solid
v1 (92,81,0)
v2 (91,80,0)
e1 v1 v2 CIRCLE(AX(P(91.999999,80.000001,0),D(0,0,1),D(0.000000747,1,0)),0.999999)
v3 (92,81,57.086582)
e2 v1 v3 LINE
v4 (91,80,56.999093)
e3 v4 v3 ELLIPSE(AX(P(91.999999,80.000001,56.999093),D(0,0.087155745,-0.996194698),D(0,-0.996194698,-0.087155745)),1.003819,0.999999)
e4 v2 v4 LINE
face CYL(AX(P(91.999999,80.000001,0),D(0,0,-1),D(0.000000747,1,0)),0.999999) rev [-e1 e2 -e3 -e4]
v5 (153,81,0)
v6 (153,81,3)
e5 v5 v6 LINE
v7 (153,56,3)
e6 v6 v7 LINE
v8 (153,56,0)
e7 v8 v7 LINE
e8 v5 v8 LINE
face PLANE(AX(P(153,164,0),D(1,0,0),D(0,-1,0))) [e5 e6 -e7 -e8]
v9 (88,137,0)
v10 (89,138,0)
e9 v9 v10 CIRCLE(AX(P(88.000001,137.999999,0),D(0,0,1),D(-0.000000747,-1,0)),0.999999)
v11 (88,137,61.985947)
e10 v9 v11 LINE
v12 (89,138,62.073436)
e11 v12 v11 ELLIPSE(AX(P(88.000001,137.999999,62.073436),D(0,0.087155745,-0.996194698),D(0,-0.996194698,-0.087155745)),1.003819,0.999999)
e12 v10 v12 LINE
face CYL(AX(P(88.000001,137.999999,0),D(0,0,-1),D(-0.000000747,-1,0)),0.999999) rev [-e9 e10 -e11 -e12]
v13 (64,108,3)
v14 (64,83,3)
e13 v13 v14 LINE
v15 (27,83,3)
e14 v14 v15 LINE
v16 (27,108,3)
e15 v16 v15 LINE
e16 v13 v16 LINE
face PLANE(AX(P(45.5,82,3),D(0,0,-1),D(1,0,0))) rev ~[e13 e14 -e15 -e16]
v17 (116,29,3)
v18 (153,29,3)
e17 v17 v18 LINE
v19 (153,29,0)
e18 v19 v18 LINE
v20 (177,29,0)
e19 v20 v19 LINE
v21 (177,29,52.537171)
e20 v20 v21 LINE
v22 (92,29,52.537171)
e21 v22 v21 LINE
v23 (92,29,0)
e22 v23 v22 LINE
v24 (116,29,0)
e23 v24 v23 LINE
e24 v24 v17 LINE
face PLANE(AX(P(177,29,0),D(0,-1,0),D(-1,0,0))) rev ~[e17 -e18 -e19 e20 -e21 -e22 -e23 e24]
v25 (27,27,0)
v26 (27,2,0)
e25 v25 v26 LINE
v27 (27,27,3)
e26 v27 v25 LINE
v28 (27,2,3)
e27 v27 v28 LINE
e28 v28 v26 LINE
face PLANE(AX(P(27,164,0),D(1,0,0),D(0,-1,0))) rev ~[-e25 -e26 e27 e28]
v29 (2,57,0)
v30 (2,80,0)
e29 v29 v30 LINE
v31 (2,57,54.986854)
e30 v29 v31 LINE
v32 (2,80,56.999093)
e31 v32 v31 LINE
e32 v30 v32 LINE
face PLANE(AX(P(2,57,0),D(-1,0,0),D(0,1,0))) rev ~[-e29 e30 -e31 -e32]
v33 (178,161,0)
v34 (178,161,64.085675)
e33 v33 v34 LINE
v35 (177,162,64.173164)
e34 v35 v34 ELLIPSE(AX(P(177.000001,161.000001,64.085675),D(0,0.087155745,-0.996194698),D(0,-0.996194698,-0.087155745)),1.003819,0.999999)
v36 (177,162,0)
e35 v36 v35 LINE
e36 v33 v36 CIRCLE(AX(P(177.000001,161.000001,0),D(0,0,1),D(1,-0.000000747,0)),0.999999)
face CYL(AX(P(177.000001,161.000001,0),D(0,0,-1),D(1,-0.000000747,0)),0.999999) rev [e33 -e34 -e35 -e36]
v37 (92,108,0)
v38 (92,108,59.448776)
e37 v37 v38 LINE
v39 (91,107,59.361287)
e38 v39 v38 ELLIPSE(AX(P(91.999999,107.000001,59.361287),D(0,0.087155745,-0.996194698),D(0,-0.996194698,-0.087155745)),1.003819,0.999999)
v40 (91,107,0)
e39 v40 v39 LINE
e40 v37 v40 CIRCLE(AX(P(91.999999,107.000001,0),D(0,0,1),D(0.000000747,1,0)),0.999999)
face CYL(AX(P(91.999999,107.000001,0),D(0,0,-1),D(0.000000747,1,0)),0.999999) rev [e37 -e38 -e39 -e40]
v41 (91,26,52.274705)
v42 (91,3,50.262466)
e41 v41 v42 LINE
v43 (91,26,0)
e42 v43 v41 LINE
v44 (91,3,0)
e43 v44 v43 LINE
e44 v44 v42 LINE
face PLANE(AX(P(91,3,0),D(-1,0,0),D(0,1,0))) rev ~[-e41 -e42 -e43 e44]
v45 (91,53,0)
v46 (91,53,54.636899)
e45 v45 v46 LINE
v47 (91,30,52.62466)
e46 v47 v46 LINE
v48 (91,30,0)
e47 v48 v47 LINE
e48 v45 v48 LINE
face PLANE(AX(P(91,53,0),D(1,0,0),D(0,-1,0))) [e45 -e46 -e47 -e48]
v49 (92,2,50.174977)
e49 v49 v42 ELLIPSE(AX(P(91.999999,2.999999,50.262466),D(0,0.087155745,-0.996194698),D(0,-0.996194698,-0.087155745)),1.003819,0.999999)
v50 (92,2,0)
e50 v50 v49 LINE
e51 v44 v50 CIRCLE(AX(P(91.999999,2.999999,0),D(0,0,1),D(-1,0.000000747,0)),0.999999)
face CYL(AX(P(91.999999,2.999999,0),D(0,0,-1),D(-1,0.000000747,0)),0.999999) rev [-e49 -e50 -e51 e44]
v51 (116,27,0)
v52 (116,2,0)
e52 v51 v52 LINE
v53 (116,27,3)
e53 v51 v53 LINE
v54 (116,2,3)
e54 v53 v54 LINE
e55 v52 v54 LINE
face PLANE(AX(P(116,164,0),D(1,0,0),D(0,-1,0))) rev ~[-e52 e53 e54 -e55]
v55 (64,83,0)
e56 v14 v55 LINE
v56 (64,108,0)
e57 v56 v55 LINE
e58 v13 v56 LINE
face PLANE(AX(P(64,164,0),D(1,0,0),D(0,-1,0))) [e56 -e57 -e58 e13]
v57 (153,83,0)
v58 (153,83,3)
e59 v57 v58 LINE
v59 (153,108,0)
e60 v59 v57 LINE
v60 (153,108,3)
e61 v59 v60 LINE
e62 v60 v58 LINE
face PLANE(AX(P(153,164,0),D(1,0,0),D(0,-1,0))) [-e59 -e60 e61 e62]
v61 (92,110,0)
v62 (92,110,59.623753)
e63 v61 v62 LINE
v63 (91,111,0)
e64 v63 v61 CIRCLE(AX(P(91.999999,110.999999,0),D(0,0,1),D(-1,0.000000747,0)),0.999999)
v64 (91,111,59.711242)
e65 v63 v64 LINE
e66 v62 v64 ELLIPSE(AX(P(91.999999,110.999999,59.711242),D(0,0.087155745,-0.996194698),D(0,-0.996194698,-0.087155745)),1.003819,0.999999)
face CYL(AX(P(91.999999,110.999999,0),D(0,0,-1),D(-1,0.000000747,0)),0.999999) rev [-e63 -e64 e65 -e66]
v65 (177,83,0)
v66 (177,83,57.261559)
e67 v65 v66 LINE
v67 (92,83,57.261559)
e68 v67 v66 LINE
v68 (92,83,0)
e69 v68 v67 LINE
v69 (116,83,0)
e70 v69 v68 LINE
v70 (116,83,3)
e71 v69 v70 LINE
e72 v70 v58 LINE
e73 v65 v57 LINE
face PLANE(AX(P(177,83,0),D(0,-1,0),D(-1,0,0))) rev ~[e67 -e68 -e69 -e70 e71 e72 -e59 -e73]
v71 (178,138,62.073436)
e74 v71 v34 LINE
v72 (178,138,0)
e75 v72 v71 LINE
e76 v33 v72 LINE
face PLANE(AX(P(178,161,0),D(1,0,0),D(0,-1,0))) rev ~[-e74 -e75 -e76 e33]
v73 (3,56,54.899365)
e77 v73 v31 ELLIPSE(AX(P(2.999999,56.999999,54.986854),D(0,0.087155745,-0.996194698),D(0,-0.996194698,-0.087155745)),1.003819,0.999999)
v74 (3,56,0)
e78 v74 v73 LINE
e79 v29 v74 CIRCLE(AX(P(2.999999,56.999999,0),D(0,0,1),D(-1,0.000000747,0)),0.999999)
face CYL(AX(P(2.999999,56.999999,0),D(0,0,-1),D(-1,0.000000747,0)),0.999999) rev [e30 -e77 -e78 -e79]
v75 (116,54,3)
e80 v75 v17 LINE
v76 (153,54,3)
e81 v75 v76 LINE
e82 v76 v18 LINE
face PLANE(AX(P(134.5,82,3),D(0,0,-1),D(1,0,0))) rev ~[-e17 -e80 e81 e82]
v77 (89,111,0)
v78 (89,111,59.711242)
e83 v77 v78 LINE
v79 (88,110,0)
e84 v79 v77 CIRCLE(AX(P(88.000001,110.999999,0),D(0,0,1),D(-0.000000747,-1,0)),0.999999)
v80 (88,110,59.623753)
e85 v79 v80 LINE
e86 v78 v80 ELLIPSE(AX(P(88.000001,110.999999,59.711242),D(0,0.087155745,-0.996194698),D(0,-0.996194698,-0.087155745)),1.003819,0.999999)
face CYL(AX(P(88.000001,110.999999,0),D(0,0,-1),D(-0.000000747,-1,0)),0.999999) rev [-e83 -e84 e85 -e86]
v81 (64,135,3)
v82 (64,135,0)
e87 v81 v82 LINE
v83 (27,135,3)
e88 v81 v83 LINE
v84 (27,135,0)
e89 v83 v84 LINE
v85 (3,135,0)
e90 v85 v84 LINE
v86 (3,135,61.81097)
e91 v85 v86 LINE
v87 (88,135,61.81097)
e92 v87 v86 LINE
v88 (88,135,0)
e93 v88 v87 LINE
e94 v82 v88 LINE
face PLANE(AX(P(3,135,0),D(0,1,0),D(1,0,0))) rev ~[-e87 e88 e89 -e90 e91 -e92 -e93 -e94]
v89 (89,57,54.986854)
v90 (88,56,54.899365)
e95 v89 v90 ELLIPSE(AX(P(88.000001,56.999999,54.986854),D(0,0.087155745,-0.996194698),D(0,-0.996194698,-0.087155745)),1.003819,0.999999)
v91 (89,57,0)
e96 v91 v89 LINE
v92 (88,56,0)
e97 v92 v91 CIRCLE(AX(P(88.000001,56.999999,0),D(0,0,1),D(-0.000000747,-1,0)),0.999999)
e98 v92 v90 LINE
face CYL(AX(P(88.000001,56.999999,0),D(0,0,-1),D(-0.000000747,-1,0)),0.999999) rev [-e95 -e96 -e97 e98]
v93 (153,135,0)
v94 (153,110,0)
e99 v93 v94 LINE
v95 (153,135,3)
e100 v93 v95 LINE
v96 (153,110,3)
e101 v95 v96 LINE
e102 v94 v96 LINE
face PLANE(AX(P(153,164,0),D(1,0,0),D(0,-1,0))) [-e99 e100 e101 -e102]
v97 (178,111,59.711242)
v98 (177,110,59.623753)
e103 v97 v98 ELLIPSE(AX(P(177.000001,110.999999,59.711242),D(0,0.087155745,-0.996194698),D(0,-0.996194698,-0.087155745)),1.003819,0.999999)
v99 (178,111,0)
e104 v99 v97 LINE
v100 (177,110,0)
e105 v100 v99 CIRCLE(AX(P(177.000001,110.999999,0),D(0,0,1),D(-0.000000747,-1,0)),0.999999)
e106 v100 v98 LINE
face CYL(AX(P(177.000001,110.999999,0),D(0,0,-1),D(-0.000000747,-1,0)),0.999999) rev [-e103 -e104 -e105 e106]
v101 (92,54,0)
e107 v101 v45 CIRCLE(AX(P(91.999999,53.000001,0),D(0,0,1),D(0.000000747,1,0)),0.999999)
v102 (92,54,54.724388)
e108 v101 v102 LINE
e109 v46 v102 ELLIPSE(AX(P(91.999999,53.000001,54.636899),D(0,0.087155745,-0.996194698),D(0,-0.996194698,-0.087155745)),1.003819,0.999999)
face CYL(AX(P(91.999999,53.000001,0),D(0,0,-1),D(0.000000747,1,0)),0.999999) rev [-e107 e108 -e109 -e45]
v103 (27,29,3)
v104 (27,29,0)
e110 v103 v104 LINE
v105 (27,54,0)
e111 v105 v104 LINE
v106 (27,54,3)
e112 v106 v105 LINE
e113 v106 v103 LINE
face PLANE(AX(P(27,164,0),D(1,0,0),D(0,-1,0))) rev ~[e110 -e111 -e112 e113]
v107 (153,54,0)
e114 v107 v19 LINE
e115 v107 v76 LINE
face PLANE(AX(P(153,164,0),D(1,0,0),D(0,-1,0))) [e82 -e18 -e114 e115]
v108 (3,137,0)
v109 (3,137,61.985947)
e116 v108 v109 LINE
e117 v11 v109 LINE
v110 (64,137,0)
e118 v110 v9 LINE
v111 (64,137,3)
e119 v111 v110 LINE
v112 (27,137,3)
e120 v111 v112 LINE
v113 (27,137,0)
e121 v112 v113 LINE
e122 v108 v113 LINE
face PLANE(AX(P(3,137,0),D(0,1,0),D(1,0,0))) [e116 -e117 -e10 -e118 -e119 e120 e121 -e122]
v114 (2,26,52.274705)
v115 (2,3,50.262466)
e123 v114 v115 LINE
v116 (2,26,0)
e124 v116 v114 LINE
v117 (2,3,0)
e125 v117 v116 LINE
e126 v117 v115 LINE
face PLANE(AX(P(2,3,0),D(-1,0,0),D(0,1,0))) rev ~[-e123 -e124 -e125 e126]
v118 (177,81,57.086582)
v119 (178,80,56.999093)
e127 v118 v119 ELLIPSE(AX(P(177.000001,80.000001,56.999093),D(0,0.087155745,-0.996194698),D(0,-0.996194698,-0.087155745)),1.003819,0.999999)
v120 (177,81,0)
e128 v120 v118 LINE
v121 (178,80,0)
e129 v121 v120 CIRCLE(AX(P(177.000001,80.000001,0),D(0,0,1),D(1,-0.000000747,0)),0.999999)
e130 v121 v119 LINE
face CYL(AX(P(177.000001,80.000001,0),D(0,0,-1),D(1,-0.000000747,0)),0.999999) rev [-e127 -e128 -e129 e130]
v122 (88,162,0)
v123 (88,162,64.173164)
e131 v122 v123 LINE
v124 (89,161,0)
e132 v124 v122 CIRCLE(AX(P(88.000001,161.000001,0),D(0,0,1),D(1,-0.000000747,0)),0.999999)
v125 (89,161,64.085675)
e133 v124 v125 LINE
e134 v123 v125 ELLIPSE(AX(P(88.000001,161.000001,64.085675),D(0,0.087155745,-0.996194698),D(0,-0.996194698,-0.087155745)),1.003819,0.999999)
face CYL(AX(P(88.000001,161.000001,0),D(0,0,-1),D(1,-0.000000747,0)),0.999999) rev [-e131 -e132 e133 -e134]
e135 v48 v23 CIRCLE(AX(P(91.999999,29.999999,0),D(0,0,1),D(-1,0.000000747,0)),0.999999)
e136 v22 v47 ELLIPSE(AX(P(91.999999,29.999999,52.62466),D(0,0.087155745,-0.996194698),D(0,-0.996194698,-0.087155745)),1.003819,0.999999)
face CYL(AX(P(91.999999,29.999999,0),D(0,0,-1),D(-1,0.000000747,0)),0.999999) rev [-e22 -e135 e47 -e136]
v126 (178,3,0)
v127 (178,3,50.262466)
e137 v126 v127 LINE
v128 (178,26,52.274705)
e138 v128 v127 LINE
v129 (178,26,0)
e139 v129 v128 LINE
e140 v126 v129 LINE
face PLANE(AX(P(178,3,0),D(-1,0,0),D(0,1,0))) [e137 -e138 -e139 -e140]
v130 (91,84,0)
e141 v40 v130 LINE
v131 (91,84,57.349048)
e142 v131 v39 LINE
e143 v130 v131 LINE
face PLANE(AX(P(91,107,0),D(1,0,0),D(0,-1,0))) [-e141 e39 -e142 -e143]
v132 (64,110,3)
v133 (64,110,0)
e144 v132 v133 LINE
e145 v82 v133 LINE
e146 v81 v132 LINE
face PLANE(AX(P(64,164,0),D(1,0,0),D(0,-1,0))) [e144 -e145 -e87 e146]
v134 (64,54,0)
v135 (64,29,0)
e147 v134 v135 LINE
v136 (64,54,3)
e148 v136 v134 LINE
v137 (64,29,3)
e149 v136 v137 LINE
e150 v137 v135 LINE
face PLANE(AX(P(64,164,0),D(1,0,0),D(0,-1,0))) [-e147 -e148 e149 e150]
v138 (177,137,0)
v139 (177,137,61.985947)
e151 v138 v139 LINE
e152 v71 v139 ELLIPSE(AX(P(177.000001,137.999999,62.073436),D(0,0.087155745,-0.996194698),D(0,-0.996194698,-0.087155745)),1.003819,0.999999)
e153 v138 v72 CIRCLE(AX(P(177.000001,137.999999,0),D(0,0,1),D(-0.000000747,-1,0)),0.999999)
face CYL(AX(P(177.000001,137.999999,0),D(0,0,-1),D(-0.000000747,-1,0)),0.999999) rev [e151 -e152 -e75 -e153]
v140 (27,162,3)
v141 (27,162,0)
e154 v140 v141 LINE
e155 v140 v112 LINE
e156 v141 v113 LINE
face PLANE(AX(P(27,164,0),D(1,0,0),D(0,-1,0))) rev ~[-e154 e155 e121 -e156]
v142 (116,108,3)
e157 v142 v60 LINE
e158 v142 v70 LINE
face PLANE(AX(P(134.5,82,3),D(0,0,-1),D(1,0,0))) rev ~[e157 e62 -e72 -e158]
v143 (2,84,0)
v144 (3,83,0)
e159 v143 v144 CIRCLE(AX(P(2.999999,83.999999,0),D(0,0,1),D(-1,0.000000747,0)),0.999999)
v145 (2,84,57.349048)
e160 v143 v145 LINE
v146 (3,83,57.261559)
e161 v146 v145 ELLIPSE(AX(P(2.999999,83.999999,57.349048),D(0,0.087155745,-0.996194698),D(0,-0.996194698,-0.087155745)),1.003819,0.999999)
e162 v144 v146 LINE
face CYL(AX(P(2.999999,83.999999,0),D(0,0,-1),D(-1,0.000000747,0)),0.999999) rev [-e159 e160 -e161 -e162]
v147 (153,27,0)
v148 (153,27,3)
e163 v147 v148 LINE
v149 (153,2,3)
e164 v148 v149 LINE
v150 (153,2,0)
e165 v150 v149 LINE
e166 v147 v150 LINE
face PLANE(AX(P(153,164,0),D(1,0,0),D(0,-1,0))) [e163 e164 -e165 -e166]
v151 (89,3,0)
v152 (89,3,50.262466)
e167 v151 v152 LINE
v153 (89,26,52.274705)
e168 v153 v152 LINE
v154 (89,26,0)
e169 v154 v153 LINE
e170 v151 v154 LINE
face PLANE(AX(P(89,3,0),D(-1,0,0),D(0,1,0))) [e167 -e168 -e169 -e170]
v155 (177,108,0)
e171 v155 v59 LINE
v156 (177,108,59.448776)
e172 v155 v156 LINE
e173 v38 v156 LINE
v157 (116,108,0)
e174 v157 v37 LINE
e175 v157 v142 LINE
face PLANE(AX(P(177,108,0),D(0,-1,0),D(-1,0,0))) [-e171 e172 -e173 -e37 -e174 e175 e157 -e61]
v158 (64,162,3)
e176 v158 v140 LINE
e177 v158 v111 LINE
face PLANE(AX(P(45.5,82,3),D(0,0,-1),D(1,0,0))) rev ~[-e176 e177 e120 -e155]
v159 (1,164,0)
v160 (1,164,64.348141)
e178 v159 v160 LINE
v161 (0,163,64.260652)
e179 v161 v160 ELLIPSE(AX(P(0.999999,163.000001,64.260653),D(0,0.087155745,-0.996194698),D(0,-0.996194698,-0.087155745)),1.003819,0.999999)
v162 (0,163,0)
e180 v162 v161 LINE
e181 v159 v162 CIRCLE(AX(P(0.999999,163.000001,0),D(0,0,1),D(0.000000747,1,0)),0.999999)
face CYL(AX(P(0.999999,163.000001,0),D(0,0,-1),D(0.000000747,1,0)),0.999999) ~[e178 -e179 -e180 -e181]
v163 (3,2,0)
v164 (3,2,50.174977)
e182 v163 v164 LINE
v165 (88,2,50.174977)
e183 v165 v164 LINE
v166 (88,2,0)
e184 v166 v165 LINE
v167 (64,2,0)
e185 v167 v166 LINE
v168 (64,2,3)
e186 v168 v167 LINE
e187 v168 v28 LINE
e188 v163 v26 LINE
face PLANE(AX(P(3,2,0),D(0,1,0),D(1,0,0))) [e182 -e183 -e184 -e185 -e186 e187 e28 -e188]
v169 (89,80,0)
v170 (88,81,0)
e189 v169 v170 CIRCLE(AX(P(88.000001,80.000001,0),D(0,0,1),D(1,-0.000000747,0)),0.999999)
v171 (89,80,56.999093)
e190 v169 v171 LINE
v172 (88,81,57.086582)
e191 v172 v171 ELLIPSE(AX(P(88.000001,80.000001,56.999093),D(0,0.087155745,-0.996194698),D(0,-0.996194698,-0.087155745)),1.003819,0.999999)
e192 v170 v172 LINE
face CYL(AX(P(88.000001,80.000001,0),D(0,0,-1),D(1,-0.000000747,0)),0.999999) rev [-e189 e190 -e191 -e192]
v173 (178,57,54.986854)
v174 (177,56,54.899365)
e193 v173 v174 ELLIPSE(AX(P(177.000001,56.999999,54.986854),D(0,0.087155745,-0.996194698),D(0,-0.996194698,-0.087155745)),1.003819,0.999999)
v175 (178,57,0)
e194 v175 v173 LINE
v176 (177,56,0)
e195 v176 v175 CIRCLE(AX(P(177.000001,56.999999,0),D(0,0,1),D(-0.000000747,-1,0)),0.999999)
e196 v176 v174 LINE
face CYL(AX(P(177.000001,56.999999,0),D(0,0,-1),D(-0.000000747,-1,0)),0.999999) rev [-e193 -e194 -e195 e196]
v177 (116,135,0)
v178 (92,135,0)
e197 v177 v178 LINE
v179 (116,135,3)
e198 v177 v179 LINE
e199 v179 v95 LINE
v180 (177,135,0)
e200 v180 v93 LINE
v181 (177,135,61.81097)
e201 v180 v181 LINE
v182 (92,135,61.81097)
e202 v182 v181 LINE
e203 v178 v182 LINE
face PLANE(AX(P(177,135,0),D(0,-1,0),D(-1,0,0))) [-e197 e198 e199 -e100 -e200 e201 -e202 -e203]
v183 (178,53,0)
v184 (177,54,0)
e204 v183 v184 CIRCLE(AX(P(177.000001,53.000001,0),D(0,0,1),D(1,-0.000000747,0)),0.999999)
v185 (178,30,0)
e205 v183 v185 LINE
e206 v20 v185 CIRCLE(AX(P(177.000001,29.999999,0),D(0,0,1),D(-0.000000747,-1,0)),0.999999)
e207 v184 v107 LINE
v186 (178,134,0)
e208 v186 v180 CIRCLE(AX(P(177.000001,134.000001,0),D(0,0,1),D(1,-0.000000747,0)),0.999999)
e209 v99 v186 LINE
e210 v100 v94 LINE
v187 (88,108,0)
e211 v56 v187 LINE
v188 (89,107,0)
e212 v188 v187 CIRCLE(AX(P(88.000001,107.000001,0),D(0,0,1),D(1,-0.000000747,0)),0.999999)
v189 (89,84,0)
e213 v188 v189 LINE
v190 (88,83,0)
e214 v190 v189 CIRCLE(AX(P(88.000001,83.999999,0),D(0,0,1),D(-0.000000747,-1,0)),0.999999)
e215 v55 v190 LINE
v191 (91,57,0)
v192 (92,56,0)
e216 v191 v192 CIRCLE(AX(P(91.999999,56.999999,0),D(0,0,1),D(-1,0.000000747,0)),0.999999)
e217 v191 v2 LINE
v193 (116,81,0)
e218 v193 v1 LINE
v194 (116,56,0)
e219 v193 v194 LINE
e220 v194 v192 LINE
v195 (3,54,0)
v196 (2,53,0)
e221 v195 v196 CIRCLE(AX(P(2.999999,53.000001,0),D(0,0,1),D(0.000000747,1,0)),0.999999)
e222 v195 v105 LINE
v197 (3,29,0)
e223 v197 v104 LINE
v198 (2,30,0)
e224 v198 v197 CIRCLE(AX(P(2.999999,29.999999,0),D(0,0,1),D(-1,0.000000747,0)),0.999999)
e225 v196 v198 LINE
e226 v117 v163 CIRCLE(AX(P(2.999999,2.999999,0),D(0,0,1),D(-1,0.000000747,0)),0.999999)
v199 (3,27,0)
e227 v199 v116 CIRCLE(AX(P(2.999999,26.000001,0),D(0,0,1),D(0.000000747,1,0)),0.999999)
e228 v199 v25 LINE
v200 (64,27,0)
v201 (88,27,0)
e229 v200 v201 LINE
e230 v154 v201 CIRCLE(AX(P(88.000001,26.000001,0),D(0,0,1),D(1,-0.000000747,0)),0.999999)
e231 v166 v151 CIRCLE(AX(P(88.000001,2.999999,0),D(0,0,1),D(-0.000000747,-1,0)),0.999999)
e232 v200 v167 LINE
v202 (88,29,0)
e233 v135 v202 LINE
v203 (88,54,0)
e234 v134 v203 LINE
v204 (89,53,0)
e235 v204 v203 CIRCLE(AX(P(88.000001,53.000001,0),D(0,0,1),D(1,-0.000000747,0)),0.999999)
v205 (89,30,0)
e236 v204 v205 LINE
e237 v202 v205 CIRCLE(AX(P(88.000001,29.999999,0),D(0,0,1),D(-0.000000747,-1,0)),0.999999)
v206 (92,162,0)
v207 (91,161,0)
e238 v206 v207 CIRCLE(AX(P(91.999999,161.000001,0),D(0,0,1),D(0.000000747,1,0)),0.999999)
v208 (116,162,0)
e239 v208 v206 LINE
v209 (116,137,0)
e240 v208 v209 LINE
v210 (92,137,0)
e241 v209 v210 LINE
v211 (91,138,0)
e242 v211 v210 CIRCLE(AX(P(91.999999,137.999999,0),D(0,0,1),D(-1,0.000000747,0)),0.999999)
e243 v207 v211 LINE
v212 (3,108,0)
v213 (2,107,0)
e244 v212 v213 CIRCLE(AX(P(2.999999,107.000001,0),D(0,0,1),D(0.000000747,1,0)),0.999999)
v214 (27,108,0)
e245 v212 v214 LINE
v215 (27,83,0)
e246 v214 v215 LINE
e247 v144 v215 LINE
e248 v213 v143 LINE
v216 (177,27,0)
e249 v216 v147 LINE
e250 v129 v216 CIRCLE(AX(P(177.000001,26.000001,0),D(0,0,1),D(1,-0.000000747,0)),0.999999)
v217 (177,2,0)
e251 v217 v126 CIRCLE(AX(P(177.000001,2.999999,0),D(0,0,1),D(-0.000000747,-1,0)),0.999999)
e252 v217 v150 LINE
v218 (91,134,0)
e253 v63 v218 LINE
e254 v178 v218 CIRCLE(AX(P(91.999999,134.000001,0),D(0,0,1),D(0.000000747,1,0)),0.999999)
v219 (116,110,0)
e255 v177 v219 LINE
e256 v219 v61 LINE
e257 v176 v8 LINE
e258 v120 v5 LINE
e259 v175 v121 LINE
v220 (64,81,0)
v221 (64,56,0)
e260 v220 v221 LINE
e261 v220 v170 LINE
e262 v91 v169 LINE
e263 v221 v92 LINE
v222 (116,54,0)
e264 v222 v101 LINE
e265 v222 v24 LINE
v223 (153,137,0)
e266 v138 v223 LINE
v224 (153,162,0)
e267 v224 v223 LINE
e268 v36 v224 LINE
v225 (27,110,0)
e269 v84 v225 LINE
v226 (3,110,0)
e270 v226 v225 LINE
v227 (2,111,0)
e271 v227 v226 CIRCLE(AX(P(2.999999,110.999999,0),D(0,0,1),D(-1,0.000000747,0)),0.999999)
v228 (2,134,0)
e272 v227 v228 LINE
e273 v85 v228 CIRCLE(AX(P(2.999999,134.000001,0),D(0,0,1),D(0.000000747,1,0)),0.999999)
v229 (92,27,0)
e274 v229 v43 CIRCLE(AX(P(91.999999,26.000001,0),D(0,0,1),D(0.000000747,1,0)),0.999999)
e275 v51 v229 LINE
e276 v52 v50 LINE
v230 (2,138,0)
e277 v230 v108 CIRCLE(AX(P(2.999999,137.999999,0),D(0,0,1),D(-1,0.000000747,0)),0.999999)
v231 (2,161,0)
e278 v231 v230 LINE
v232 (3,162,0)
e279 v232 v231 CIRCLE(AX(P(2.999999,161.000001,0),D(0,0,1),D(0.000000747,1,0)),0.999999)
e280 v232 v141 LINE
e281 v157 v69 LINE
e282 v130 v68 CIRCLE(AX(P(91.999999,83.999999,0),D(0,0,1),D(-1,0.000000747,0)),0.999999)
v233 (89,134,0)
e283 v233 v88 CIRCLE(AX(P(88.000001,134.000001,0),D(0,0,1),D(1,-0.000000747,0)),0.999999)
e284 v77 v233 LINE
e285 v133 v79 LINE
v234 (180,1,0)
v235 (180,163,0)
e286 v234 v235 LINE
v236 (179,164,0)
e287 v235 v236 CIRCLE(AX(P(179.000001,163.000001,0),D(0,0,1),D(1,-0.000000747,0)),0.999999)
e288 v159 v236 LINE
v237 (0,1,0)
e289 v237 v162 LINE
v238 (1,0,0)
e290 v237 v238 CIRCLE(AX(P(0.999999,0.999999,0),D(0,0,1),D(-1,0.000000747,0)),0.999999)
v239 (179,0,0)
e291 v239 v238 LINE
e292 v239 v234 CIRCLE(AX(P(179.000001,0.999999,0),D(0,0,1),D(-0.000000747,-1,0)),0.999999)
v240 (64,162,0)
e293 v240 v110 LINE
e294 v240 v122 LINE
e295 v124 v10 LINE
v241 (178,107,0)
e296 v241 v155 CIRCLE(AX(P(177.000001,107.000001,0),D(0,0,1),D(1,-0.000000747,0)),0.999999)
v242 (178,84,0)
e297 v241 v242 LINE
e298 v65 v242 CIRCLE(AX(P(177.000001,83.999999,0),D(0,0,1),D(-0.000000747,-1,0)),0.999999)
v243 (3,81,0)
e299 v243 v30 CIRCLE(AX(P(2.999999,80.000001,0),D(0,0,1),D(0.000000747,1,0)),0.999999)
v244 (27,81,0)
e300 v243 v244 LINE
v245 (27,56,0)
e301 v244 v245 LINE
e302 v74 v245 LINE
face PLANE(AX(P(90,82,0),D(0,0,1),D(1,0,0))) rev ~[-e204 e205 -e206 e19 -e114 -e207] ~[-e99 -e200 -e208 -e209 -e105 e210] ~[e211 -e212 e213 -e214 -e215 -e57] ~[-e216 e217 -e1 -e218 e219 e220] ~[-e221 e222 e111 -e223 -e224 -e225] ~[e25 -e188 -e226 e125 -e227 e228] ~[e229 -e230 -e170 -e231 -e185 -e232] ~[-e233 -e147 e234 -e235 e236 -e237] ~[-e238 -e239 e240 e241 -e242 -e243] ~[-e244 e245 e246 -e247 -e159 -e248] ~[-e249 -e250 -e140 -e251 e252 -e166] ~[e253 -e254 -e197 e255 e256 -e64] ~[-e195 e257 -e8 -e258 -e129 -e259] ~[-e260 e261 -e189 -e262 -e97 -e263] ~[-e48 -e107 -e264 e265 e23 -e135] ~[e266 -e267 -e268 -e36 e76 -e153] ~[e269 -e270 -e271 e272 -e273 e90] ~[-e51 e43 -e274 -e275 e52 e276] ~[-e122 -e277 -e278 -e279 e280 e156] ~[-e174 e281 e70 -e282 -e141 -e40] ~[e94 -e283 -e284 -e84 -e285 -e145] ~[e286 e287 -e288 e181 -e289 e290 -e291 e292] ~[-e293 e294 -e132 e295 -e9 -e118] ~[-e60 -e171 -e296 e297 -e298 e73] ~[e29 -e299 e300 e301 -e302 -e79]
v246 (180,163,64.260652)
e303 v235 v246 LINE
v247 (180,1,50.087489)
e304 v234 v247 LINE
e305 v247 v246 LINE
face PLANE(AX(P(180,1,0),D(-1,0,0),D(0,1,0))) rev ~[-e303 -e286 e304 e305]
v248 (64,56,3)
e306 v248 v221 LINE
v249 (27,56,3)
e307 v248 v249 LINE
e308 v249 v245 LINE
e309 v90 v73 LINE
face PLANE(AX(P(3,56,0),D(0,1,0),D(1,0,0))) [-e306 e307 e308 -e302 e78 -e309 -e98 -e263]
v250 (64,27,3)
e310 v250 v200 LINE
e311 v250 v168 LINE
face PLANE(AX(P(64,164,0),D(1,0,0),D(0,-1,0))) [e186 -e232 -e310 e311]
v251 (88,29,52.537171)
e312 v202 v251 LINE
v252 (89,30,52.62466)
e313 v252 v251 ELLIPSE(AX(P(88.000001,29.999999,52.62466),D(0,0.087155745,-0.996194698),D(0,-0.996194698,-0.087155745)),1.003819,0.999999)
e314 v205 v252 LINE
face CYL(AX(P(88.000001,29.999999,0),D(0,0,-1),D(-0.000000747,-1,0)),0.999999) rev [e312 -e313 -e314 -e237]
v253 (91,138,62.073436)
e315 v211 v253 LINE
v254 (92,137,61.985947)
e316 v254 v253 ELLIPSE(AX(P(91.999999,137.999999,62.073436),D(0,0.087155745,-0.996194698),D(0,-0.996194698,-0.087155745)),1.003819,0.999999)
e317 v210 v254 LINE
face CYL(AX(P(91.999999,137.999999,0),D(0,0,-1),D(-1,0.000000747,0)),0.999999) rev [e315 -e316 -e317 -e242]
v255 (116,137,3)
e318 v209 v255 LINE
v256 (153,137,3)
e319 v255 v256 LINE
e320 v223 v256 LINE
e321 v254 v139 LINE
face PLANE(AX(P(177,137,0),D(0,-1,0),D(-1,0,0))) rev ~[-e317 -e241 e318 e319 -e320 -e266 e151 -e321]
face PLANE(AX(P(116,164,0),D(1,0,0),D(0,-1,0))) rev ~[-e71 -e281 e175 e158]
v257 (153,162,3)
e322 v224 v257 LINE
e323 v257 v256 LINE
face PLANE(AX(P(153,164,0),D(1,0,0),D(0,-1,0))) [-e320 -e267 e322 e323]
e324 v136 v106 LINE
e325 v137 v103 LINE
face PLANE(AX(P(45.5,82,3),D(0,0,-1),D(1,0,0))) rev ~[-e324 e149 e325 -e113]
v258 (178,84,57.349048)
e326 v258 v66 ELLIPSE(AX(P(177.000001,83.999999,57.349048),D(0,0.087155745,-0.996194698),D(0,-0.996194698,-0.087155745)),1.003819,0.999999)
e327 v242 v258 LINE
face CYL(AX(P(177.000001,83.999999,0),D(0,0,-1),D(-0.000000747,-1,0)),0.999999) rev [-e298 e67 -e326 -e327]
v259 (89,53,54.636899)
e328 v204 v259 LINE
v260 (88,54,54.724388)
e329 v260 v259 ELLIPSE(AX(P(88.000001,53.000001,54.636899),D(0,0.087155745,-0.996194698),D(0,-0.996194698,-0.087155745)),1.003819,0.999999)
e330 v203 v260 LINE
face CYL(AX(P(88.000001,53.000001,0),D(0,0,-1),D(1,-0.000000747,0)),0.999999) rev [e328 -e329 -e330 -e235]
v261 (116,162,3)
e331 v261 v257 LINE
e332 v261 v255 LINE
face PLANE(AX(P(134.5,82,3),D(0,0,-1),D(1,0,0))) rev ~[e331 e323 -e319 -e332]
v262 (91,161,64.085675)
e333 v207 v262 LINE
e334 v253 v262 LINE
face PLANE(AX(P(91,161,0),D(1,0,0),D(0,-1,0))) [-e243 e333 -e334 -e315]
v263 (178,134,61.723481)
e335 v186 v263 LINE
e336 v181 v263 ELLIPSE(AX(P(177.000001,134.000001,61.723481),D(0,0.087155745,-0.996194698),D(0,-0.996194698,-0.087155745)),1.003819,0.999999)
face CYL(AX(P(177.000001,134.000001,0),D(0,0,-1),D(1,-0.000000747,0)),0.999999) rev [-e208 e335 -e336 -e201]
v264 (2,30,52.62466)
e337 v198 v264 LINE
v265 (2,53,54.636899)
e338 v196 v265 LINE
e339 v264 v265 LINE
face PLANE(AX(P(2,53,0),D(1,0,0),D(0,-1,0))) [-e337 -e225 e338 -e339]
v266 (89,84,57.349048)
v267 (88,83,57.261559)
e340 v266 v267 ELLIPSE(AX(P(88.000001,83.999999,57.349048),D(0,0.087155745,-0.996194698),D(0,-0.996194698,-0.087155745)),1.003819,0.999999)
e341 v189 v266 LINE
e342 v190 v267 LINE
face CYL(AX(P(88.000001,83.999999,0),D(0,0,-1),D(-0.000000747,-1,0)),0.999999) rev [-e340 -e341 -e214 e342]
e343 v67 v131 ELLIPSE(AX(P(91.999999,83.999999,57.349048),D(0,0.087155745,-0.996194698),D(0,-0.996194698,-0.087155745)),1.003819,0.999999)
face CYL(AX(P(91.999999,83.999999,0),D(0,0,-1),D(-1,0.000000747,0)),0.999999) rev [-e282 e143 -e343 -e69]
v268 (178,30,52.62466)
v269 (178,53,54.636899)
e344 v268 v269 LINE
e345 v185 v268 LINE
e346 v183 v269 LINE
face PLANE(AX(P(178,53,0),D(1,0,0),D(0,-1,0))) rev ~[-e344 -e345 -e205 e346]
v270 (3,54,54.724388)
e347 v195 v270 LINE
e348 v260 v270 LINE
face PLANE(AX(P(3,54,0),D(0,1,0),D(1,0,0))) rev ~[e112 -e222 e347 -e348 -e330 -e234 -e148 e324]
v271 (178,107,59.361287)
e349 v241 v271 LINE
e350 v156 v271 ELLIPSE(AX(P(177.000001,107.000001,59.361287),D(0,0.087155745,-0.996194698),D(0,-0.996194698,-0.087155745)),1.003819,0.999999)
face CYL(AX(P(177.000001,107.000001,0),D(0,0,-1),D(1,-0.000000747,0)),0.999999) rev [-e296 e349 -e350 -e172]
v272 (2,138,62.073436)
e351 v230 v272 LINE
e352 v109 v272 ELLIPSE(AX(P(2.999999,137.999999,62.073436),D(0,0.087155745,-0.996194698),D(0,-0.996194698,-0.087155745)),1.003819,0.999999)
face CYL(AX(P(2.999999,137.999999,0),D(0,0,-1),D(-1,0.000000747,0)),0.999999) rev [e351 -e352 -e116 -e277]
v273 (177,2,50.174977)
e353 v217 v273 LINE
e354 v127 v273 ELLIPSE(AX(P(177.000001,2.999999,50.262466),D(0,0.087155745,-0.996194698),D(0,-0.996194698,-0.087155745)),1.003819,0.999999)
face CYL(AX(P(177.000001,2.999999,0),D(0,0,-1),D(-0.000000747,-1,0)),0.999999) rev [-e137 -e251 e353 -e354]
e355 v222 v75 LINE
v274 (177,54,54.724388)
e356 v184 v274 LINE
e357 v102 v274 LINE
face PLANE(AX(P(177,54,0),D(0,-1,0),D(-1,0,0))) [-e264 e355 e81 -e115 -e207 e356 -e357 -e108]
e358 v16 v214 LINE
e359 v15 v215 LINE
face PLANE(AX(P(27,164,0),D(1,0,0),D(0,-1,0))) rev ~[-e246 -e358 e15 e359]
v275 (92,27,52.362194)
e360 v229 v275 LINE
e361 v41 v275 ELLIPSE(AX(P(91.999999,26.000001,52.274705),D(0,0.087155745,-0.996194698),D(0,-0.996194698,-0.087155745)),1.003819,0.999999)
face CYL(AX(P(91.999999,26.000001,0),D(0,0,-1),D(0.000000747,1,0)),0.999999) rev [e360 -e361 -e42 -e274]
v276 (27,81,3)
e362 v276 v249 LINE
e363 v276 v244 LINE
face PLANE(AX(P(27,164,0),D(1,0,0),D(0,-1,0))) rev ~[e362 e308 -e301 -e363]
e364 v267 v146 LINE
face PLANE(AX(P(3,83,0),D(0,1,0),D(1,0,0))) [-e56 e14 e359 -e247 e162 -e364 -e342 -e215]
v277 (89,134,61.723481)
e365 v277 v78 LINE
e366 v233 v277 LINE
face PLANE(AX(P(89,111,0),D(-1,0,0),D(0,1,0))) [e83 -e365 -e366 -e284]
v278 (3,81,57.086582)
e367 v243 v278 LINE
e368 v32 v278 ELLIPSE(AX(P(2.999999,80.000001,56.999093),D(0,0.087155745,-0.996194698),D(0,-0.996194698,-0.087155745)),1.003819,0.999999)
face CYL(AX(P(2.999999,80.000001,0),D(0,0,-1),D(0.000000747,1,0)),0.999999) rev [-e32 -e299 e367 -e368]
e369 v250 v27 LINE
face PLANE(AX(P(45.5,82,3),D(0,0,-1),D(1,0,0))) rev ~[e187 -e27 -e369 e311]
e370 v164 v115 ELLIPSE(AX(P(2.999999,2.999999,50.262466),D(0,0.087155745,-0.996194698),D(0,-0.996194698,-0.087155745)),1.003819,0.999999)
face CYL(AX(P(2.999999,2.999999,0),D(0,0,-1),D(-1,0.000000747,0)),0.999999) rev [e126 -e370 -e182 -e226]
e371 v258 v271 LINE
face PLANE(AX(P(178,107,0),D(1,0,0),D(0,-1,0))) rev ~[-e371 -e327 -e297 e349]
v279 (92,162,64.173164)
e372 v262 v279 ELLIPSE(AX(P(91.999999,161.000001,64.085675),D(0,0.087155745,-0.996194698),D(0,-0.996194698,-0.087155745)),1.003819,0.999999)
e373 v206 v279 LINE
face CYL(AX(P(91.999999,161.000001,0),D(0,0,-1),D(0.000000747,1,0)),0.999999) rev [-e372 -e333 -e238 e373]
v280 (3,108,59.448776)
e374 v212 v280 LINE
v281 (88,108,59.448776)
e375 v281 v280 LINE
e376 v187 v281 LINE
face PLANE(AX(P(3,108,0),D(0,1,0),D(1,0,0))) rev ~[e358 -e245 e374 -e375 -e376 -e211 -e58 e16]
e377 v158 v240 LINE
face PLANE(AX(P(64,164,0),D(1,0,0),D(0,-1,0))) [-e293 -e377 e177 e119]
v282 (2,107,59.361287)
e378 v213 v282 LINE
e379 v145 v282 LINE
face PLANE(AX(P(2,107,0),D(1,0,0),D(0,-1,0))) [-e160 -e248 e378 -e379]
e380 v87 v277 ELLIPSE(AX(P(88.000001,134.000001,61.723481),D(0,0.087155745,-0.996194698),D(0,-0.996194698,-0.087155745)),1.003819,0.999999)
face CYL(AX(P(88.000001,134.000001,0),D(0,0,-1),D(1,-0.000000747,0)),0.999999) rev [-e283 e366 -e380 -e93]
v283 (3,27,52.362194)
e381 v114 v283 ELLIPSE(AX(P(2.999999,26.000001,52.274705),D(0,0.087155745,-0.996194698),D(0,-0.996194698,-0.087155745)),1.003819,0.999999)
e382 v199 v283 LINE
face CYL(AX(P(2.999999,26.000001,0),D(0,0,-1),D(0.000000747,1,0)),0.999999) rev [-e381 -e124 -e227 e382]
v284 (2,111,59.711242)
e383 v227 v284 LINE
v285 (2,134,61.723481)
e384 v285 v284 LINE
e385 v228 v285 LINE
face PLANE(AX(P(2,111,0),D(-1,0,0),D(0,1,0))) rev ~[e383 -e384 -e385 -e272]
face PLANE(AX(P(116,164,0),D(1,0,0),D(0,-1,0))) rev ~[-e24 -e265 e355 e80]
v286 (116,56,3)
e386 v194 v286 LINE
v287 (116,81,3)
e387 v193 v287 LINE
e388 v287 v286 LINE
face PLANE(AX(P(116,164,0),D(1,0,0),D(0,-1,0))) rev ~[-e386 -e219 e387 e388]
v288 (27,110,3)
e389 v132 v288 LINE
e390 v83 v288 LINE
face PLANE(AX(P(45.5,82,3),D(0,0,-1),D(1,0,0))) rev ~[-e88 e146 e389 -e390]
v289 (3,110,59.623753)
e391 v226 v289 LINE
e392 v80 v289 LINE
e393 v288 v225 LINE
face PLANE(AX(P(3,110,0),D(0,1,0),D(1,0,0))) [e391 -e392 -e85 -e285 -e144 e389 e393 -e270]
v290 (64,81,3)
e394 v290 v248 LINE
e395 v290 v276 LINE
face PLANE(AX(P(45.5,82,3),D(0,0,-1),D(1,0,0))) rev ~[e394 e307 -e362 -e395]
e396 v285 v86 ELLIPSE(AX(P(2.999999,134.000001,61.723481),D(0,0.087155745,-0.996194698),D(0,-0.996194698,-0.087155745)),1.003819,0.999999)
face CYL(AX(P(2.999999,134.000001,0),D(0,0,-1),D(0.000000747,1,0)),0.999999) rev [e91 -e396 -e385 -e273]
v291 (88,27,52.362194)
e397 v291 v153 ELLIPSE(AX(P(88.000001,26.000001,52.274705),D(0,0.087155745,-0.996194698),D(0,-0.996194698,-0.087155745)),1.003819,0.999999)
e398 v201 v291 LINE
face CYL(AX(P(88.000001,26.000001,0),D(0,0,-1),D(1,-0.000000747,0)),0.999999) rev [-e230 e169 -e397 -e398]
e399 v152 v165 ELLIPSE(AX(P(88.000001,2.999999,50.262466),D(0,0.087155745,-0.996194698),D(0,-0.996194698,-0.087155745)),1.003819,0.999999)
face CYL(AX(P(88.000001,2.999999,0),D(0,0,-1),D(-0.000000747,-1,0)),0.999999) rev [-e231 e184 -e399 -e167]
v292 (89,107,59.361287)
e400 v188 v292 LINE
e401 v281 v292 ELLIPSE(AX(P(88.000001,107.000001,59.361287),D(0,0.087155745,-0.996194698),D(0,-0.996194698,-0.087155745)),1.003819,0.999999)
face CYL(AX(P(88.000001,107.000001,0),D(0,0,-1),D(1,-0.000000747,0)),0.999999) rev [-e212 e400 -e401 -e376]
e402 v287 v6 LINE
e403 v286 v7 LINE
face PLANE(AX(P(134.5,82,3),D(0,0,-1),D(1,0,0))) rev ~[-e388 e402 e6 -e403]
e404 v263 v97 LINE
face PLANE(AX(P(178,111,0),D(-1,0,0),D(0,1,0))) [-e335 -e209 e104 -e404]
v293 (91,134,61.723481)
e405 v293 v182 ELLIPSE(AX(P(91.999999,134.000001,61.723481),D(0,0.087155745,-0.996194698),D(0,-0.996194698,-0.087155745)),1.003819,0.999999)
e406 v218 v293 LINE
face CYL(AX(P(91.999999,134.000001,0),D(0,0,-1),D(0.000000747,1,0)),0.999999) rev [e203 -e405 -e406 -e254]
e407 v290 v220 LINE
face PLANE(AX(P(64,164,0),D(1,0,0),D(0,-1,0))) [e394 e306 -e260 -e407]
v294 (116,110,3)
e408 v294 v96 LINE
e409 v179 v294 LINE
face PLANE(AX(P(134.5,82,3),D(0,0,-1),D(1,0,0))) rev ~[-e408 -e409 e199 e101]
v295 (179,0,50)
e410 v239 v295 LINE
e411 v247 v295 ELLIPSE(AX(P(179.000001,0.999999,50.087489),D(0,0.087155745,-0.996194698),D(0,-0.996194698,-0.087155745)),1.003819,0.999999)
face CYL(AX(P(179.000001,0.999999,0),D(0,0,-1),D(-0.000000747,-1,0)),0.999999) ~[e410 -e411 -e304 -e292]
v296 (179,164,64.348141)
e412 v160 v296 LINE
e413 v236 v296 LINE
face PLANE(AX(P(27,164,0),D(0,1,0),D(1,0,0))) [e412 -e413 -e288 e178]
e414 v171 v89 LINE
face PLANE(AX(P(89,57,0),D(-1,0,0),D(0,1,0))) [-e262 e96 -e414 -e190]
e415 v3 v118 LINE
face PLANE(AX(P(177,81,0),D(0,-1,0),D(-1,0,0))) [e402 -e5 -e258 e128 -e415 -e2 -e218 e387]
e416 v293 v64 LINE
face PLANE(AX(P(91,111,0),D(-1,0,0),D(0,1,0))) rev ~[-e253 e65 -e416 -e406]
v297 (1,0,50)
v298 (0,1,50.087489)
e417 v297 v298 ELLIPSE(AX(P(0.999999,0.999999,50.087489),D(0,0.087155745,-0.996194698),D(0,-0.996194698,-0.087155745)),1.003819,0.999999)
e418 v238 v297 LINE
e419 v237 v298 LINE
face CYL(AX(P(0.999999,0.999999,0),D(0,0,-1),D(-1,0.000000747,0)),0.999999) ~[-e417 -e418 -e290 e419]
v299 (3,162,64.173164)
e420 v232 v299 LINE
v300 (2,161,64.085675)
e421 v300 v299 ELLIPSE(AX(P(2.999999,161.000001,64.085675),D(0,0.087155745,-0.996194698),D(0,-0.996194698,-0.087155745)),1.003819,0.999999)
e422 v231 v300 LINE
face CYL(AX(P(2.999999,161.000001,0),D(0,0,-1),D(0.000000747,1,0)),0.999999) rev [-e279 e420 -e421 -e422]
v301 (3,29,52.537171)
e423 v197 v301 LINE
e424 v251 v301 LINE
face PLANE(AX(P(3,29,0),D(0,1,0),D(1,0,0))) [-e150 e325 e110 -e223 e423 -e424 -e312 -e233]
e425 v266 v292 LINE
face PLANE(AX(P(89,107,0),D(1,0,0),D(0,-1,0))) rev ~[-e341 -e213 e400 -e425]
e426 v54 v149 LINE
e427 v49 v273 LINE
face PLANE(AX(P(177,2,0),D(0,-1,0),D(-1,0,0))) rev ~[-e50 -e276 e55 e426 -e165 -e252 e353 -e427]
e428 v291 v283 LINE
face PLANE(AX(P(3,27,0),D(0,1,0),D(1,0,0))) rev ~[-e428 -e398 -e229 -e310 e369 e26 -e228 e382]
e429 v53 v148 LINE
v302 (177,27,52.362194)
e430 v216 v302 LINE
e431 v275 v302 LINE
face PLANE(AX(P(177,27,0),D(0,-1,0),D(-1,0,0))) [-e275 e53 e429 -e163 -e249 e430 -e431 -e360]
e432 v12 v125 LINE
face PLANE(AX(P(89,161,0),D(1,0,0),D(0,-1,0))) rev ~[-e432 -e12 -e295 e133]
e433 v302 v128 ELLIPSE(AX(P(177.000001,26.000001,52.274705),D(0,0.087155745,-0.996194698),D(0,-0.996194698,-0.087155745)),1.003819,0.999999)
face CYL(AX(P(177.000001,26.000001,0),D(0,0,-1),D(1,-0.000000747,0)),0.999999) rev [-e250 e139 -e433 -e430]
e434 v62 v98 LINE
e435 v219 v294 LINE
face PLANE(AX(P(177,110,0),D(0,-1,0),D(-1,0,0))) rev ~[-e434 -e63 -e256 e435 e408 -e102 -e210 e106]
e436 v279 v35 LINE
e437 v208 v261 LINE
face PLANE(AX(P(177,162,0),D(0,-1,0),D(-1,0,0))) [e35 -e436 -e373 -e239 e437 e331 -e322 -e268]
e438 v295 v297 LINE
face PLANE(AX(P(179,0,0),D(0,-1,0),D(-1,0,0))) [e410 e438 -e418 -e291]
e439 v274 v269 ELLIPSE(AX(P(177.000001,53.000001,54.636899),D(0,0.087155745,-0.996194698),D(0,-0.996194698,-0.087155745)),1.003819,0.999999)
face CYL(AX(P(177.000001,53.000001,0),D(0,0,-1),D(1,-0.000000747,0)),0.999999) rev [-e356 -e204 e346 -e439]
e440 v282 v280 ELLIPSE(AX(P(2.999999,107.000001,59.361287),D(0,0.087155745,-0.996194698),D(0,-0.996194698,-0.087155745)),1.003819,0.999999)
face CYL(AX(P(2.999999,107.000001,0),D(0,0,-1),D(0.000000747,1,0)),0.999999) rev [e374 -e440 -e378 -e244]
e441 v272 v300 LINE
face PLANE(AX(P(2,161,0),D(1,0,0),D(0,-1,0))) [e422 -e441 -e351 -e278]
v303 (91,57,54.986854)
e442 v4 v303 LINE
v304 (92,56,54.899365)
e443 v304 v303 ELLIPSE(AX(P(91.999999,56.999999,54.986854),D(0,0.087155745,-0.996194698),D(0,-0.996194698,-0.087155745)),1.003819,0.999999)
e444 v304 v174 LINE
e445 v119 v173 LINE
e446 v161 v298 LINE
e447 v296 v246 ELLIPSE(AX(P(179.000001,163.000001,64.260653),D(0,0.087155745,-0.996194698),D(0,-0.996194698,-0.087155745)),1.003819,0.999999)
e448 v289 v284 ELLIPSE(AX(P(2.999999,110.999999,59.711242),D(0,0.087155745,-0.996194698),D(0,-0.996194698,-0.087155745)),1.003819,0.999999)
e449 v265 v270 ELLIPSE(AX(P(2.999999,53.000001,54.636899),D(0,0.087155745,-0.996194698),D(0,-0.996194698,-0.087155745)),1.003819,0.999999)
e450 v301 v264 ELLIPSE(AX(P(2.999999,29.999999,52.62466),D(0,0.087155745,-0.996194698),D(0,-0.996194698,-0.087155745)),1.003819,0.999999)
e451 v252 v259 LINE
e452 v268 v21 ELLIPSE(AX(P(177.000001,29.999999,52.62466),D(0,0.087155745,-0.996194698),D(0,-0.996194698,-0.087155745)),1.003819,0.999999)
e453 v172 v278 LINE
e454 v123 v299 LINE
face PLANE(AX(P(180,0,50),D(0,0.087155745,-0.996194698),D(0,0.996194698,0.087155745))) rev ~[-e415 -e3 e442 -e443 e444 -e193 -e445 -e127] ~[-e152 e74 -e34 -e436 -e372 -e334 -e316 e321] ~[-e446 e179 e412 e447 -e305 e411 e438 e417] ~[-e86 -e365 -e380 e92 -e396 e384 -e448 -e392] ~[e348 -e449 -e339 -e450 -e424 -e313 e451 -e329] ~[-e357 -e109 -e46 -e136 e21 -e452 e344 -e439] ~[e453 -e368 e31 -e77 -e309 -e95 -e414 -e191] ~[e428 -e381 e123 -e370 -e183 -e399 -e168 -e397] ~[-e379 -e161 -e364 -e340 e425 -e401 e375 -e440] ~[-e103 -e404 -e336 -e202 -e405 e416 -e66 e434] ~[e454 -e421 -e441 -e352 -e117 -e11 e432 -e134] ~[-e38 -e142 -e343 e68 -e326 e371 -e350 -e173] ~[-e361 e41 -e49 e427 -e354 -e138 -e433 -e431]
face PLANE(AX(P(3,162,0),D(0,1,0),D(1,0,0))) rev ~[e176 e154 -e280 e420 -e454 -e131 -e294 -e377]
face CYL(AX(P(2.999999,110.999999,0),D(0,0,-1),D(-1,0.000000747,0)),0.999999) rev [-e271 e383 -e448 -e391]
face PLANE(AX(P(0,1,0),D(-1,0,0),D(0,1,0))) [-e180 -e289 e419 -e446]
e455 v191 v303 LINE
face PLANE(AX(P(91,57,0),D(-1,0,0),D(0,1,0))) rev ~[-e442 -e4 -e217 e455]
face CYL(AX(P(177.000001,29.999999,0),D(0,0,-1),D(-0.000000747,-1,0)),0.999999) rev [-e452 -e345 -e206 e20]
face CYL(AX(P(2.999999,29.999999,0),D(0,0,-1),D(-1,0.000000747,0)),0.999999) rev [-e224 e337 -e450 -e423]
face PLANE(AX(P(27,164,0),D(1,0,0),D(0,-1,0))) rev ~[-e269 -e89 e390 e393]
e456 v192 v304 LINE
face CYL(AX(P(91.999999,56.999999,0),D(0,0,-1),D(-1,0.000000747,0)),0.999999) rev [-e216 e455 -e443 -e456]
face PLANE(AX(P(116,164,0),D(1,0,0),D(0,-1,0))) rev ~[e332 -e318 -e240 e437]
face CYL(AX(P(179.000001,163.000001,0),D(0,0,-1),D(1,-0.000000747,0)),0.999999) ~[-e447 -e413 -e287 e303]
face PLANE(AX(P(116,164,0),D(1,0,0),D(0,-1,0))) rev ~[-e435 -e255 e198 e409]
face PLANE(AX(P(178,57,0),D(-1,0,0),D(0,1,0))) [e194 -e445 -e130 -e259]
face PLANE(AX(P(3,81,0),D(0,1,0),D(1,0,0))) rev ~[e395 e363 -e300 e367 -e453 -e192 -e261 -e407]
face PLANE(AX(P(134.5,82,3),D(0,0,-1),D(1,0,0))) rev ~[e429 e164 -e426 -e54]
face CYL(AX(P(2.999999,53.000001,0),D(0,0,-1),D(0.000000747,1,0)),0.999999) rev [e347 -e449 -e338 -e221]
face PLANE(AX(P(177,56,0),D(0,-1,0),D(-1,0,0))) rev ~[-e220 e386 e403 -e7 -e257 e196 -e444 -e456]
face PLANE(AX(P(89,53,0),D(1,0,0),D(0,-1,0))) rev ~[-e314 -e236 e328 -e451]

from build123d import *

# Parameters (mm, degrees)
PAD_DEPTH    = 65
POCKET_DEPTH = 180.001
SKETCH002_W  = 37
SKETCH002_H  = 164
PAD001_DEPTH = 3


with BuildPart() as part:
    # Sketch → Pad (new body)
    with BuildSketch(Plane.XY):
        with BuildLine():
            ThreePointArc((1, 164), (0.292893, 163.707107), (0, 163))
            Line((0, 1), (0, 163))
            ThreePointArc((0, 1), (0.292893, 0.292893), (1, 0))
            Line((179, 0), (1, 0))
            ThreePointArc((179, 0), (179.707107, 0.292893), (180, 1))
            Line((180, 1), (180, 163))
            ThreePointArc((180, 163), (179.707107, 163.707107), (179, 164))
            Line((179, 164), (1, 164))
        make_face()
        with BuildLine():
            ThreePointArc((3, 27), (2.292893, 26.707107), (2, 26))
            Line((2, 3), (2, 26))
            ThreePointArc((2, 3), (2.292893, 2.292893), (3, 2))
            Line((3, 2), (88, 2))
            ThreePointArc((88, 2), (88.707107, 2.292893), (89, 3))
            Line((89, 3), (89, 26))
            ThreePointArc((89, 26), (88.707107, 26.707107), (88, 27))
            Line((3, 27), (88, 27))
        make_face(mode=Mode.SUBTRACT)
        with BuildLine():
            ThreePointArc((2, 30), (2.292893, 29.292893), (3, 29))
            Line((3, 29), (88, 29))
            ThreePointArc((88, 29), (88.707107, 29.292893), (89, 30))
            Line((89, 53), (89, 30))
            ThreePointArc((89, 53), (88.707107, 53.707107), (88, 54))
            Line((3, 54), (88, 54))
            ThreePointArc((3, 54), (2.292893, 53.707107), (2, 53))
            Line((2, 53), (2, 30))
        make_face(mode=Mode.SUBTRACT)
        with BuildLine():
            ThreePointArc((2, 84), (2.292893, 83.292893), (3, 83))
            Line((3, 83), (88, 83))
            ThreePointArc((88, 83), (88.707107, 83.292893), (89, 84))
            Line((89, 107), (89, 84))
            ThreePointArc((89, 107), (88.707107, 107.707107), (88, 108))
            Line((3, 108), (88, 108))
            ThreePointArc((3, 108), (2.292893, 107.707107), (2, 107))
            Line((2, 107), (2, 84))
        make_face(mode=Mode.SUBTRACT)
        with BuildLine():
            ThreePointArc((3, 81), (2.292893, 80.707107), (2, 80))
            Line((2, 57), (2, 80))
            ThreePointArc((2, 57), (2.292893, 56.292893), (3, 56))
            Line((3, 56), (88, 56))
            ThreePointArc((88, 56), (88.707107, 56.292893), (89, 57))
            Line((89, 57), (89, 80))
            ThreePointArc((89, 80), (88.707107, 80.707107), (88, 81))
            Line((3, 81), (88, 81))
        make_face(mode=Mode.SUBTRACT)
        with BuildLine():
            ThreePointArc((3, 135), (2.292893, 134.707107), (2, 134))
            Line((2, 111), (2, 134))
            ThreePointArc((2, 111), (2.292893, 110.292893), (3, 110))
            Line((3, 110), (88, 110))
            ThreePointArc((88, 110), (88.707107, 110.292893), (89, 111))
            Line((89, 111), (89, 134))
            ThreePointArc((89, 134), (88.707107, 134.707107), (88, 135))
            Line((3, 135), (88, 135))
        make_face(mode=Mode.SUBTRACT)
        with BuildLine():
            ThreePointArc((2, 138), (2.292893, 137.292893), (3, 137))
            Line((3, 137), (88, 137))
            ThreePointArc((88, 137), (88.707107, 137.292893), (89, 138))
            Line((89, 161), (89, 138))
            ThreePointArc((89, 161), (88.707107, 161.707107), (88, 162))
            Line((3, 162), (88, 162))
            ThreePointArc((3, 162), (2.292893, 161.707107), (2, 161))
            Line((2, 161), (2, 138))
        make_face(mode=Mode.SUBTRACT)
        with BuildLine():
            ThreePointArc((178, 26), (177.707107, 26.707107), (177, 27))
            Line((177, 27), (92, 27))
            ThreePointArc((92, 27), (91.292893, 26.707107), (91, 26))
            Line((91, 3), (91, 26))
            ThreePointArc((91, 3), (91.292893, 2.292893), (92, 2))
            Line((177, 2), (92, 2))
            ThreePointArc((177, 2), (177.707107, 2.292893), (178, 3))
            Line((178, 3), (178, 26))
        make_face(mode=Mode.SUBTRACT)
        with BuildLine():
            ThreePointArc((177, 29), (177.707107, 29.292893), (178, 30))
            Line((178, 53), (178, 30))
            ThreePointArc((178, 53), (177.707107, 53.707107), (177, 54))
            Line((177, 54), (92, 54))
            ThreePointArc((92, 54), (91.292893, 53.707107), (91, 53))
            Line((91, 53), (91, 30))
            ThreePointArc((91, 30), (91.292893, 29.292893), (92, 29))
            Line((177, 29), (92, 29))
        make_face(mode=Mode.SUBTRACT)
        with BuildLine():
            ThreePointArc((177, 83), (177.707107, 83.292893), (178, 84))
            Line((178, 107), (178, 84))
            ThreePointArc((178, 107), (177.707107, 107.707107), (177, 108))
            Line((177, 108), (92, 108))
            ThreePointArc((92, 108), (91.292893, 107.707107), (91, 107))
            Line((91, 107), (91, 84))
            ThreePointArc((91, 84), (91.292893, 83.292893), (92, 83))
            Line((177, 83), (92, 83))
        make_face(mode=Mode.SUBTRACT)
        with BuildLine():
            ThreePointArc((178, 80), (177.707107, 80.707107), (177, 81))
            Line((177, 81), (92, 81))
            ThreePointArc((92, 81), (91.292893, 80.707107), (91, 80))
            Line((91, 57), (91, 80))
            ThreePointArc((91, 57), (91.292893, 56.292893), (92, 56))
            Line((177, 56), (92, 56))
            ThreePointArc((177, 56), (177.707107, 56.292893), (178, 57))
            Line((178, 57), (178, 80))
        make_face(mode=Mode.SUBTRACT)
        with BuildLine():
            ThreePointArc((178, 134), (177.707107, 134.707107), (177, 135))
            Line((177, 135), (92, 135))
            ThreePointArc((92, 135), (91.292893, 134.707107), (91, 134))
            Line((91, 111), (91, 134))
            ThreePointArc((91, 111), (91.292893, 110.292893), (92, 110))
            Line((177, 110), (92, 110))
            ThreePointArc((177, 110), (177.707107, 110.292893), (178, 111))
            Line((178, 111), (178, 134))
        make_face(mode=Mode.SUBTRACT)
        with BuildLine():
            ThreePointArc((177, 137), (177.707107, 137.292893), (178, 138))
            Line((178, 161), (178, 138))
            ThreePointArc((178, 161), (177.707107, 161.707107), (177, 162))
            Line((177, 162), (92, 162))
            ThreePointArc((92, 162), (91.292893, 161.707107), (91, 161))
            Line((91, 161), (91, 138))
            ThreePointArc((91, 138), (91.292893, 137.292893), (92, 137))
            Line((177, 137), (92, 137))
        make_face(mode=Mode.SUBTRACT)
    extrude(amount=PAD_DEPTH)

    # Sketch001 (on Face2 of Pad) → Pocket (cut, through all)
    with BuildSketch(Plane.YZ.offset(180)):
        Polygon((0, 50), (202.776713, 67.740664), (191.336548, 87.155762), (-16.35232, 87.155762), align=None)
    extrude(amount=-POCKET_DEPTH, mode=Mode.SUBTRACT)

    # Sketch002 (on Face2 of Pocket) → Pad001 (join)
    with BuildSketch(Plane(origin=(0, 0, 0), x_dir=(1, 0, 0), z_dir=(0, 0, -1))):
        with Locations((45.5, -82)):
            Rectangle(SKETCH002_W, SKETCH002_H)
        with Locations((134.5, -82)):
            Rectangle(SKETCH002_W, SKETCH002_H)
    extrude(amount=-PAD001_DEPTH)


solid = part.part
